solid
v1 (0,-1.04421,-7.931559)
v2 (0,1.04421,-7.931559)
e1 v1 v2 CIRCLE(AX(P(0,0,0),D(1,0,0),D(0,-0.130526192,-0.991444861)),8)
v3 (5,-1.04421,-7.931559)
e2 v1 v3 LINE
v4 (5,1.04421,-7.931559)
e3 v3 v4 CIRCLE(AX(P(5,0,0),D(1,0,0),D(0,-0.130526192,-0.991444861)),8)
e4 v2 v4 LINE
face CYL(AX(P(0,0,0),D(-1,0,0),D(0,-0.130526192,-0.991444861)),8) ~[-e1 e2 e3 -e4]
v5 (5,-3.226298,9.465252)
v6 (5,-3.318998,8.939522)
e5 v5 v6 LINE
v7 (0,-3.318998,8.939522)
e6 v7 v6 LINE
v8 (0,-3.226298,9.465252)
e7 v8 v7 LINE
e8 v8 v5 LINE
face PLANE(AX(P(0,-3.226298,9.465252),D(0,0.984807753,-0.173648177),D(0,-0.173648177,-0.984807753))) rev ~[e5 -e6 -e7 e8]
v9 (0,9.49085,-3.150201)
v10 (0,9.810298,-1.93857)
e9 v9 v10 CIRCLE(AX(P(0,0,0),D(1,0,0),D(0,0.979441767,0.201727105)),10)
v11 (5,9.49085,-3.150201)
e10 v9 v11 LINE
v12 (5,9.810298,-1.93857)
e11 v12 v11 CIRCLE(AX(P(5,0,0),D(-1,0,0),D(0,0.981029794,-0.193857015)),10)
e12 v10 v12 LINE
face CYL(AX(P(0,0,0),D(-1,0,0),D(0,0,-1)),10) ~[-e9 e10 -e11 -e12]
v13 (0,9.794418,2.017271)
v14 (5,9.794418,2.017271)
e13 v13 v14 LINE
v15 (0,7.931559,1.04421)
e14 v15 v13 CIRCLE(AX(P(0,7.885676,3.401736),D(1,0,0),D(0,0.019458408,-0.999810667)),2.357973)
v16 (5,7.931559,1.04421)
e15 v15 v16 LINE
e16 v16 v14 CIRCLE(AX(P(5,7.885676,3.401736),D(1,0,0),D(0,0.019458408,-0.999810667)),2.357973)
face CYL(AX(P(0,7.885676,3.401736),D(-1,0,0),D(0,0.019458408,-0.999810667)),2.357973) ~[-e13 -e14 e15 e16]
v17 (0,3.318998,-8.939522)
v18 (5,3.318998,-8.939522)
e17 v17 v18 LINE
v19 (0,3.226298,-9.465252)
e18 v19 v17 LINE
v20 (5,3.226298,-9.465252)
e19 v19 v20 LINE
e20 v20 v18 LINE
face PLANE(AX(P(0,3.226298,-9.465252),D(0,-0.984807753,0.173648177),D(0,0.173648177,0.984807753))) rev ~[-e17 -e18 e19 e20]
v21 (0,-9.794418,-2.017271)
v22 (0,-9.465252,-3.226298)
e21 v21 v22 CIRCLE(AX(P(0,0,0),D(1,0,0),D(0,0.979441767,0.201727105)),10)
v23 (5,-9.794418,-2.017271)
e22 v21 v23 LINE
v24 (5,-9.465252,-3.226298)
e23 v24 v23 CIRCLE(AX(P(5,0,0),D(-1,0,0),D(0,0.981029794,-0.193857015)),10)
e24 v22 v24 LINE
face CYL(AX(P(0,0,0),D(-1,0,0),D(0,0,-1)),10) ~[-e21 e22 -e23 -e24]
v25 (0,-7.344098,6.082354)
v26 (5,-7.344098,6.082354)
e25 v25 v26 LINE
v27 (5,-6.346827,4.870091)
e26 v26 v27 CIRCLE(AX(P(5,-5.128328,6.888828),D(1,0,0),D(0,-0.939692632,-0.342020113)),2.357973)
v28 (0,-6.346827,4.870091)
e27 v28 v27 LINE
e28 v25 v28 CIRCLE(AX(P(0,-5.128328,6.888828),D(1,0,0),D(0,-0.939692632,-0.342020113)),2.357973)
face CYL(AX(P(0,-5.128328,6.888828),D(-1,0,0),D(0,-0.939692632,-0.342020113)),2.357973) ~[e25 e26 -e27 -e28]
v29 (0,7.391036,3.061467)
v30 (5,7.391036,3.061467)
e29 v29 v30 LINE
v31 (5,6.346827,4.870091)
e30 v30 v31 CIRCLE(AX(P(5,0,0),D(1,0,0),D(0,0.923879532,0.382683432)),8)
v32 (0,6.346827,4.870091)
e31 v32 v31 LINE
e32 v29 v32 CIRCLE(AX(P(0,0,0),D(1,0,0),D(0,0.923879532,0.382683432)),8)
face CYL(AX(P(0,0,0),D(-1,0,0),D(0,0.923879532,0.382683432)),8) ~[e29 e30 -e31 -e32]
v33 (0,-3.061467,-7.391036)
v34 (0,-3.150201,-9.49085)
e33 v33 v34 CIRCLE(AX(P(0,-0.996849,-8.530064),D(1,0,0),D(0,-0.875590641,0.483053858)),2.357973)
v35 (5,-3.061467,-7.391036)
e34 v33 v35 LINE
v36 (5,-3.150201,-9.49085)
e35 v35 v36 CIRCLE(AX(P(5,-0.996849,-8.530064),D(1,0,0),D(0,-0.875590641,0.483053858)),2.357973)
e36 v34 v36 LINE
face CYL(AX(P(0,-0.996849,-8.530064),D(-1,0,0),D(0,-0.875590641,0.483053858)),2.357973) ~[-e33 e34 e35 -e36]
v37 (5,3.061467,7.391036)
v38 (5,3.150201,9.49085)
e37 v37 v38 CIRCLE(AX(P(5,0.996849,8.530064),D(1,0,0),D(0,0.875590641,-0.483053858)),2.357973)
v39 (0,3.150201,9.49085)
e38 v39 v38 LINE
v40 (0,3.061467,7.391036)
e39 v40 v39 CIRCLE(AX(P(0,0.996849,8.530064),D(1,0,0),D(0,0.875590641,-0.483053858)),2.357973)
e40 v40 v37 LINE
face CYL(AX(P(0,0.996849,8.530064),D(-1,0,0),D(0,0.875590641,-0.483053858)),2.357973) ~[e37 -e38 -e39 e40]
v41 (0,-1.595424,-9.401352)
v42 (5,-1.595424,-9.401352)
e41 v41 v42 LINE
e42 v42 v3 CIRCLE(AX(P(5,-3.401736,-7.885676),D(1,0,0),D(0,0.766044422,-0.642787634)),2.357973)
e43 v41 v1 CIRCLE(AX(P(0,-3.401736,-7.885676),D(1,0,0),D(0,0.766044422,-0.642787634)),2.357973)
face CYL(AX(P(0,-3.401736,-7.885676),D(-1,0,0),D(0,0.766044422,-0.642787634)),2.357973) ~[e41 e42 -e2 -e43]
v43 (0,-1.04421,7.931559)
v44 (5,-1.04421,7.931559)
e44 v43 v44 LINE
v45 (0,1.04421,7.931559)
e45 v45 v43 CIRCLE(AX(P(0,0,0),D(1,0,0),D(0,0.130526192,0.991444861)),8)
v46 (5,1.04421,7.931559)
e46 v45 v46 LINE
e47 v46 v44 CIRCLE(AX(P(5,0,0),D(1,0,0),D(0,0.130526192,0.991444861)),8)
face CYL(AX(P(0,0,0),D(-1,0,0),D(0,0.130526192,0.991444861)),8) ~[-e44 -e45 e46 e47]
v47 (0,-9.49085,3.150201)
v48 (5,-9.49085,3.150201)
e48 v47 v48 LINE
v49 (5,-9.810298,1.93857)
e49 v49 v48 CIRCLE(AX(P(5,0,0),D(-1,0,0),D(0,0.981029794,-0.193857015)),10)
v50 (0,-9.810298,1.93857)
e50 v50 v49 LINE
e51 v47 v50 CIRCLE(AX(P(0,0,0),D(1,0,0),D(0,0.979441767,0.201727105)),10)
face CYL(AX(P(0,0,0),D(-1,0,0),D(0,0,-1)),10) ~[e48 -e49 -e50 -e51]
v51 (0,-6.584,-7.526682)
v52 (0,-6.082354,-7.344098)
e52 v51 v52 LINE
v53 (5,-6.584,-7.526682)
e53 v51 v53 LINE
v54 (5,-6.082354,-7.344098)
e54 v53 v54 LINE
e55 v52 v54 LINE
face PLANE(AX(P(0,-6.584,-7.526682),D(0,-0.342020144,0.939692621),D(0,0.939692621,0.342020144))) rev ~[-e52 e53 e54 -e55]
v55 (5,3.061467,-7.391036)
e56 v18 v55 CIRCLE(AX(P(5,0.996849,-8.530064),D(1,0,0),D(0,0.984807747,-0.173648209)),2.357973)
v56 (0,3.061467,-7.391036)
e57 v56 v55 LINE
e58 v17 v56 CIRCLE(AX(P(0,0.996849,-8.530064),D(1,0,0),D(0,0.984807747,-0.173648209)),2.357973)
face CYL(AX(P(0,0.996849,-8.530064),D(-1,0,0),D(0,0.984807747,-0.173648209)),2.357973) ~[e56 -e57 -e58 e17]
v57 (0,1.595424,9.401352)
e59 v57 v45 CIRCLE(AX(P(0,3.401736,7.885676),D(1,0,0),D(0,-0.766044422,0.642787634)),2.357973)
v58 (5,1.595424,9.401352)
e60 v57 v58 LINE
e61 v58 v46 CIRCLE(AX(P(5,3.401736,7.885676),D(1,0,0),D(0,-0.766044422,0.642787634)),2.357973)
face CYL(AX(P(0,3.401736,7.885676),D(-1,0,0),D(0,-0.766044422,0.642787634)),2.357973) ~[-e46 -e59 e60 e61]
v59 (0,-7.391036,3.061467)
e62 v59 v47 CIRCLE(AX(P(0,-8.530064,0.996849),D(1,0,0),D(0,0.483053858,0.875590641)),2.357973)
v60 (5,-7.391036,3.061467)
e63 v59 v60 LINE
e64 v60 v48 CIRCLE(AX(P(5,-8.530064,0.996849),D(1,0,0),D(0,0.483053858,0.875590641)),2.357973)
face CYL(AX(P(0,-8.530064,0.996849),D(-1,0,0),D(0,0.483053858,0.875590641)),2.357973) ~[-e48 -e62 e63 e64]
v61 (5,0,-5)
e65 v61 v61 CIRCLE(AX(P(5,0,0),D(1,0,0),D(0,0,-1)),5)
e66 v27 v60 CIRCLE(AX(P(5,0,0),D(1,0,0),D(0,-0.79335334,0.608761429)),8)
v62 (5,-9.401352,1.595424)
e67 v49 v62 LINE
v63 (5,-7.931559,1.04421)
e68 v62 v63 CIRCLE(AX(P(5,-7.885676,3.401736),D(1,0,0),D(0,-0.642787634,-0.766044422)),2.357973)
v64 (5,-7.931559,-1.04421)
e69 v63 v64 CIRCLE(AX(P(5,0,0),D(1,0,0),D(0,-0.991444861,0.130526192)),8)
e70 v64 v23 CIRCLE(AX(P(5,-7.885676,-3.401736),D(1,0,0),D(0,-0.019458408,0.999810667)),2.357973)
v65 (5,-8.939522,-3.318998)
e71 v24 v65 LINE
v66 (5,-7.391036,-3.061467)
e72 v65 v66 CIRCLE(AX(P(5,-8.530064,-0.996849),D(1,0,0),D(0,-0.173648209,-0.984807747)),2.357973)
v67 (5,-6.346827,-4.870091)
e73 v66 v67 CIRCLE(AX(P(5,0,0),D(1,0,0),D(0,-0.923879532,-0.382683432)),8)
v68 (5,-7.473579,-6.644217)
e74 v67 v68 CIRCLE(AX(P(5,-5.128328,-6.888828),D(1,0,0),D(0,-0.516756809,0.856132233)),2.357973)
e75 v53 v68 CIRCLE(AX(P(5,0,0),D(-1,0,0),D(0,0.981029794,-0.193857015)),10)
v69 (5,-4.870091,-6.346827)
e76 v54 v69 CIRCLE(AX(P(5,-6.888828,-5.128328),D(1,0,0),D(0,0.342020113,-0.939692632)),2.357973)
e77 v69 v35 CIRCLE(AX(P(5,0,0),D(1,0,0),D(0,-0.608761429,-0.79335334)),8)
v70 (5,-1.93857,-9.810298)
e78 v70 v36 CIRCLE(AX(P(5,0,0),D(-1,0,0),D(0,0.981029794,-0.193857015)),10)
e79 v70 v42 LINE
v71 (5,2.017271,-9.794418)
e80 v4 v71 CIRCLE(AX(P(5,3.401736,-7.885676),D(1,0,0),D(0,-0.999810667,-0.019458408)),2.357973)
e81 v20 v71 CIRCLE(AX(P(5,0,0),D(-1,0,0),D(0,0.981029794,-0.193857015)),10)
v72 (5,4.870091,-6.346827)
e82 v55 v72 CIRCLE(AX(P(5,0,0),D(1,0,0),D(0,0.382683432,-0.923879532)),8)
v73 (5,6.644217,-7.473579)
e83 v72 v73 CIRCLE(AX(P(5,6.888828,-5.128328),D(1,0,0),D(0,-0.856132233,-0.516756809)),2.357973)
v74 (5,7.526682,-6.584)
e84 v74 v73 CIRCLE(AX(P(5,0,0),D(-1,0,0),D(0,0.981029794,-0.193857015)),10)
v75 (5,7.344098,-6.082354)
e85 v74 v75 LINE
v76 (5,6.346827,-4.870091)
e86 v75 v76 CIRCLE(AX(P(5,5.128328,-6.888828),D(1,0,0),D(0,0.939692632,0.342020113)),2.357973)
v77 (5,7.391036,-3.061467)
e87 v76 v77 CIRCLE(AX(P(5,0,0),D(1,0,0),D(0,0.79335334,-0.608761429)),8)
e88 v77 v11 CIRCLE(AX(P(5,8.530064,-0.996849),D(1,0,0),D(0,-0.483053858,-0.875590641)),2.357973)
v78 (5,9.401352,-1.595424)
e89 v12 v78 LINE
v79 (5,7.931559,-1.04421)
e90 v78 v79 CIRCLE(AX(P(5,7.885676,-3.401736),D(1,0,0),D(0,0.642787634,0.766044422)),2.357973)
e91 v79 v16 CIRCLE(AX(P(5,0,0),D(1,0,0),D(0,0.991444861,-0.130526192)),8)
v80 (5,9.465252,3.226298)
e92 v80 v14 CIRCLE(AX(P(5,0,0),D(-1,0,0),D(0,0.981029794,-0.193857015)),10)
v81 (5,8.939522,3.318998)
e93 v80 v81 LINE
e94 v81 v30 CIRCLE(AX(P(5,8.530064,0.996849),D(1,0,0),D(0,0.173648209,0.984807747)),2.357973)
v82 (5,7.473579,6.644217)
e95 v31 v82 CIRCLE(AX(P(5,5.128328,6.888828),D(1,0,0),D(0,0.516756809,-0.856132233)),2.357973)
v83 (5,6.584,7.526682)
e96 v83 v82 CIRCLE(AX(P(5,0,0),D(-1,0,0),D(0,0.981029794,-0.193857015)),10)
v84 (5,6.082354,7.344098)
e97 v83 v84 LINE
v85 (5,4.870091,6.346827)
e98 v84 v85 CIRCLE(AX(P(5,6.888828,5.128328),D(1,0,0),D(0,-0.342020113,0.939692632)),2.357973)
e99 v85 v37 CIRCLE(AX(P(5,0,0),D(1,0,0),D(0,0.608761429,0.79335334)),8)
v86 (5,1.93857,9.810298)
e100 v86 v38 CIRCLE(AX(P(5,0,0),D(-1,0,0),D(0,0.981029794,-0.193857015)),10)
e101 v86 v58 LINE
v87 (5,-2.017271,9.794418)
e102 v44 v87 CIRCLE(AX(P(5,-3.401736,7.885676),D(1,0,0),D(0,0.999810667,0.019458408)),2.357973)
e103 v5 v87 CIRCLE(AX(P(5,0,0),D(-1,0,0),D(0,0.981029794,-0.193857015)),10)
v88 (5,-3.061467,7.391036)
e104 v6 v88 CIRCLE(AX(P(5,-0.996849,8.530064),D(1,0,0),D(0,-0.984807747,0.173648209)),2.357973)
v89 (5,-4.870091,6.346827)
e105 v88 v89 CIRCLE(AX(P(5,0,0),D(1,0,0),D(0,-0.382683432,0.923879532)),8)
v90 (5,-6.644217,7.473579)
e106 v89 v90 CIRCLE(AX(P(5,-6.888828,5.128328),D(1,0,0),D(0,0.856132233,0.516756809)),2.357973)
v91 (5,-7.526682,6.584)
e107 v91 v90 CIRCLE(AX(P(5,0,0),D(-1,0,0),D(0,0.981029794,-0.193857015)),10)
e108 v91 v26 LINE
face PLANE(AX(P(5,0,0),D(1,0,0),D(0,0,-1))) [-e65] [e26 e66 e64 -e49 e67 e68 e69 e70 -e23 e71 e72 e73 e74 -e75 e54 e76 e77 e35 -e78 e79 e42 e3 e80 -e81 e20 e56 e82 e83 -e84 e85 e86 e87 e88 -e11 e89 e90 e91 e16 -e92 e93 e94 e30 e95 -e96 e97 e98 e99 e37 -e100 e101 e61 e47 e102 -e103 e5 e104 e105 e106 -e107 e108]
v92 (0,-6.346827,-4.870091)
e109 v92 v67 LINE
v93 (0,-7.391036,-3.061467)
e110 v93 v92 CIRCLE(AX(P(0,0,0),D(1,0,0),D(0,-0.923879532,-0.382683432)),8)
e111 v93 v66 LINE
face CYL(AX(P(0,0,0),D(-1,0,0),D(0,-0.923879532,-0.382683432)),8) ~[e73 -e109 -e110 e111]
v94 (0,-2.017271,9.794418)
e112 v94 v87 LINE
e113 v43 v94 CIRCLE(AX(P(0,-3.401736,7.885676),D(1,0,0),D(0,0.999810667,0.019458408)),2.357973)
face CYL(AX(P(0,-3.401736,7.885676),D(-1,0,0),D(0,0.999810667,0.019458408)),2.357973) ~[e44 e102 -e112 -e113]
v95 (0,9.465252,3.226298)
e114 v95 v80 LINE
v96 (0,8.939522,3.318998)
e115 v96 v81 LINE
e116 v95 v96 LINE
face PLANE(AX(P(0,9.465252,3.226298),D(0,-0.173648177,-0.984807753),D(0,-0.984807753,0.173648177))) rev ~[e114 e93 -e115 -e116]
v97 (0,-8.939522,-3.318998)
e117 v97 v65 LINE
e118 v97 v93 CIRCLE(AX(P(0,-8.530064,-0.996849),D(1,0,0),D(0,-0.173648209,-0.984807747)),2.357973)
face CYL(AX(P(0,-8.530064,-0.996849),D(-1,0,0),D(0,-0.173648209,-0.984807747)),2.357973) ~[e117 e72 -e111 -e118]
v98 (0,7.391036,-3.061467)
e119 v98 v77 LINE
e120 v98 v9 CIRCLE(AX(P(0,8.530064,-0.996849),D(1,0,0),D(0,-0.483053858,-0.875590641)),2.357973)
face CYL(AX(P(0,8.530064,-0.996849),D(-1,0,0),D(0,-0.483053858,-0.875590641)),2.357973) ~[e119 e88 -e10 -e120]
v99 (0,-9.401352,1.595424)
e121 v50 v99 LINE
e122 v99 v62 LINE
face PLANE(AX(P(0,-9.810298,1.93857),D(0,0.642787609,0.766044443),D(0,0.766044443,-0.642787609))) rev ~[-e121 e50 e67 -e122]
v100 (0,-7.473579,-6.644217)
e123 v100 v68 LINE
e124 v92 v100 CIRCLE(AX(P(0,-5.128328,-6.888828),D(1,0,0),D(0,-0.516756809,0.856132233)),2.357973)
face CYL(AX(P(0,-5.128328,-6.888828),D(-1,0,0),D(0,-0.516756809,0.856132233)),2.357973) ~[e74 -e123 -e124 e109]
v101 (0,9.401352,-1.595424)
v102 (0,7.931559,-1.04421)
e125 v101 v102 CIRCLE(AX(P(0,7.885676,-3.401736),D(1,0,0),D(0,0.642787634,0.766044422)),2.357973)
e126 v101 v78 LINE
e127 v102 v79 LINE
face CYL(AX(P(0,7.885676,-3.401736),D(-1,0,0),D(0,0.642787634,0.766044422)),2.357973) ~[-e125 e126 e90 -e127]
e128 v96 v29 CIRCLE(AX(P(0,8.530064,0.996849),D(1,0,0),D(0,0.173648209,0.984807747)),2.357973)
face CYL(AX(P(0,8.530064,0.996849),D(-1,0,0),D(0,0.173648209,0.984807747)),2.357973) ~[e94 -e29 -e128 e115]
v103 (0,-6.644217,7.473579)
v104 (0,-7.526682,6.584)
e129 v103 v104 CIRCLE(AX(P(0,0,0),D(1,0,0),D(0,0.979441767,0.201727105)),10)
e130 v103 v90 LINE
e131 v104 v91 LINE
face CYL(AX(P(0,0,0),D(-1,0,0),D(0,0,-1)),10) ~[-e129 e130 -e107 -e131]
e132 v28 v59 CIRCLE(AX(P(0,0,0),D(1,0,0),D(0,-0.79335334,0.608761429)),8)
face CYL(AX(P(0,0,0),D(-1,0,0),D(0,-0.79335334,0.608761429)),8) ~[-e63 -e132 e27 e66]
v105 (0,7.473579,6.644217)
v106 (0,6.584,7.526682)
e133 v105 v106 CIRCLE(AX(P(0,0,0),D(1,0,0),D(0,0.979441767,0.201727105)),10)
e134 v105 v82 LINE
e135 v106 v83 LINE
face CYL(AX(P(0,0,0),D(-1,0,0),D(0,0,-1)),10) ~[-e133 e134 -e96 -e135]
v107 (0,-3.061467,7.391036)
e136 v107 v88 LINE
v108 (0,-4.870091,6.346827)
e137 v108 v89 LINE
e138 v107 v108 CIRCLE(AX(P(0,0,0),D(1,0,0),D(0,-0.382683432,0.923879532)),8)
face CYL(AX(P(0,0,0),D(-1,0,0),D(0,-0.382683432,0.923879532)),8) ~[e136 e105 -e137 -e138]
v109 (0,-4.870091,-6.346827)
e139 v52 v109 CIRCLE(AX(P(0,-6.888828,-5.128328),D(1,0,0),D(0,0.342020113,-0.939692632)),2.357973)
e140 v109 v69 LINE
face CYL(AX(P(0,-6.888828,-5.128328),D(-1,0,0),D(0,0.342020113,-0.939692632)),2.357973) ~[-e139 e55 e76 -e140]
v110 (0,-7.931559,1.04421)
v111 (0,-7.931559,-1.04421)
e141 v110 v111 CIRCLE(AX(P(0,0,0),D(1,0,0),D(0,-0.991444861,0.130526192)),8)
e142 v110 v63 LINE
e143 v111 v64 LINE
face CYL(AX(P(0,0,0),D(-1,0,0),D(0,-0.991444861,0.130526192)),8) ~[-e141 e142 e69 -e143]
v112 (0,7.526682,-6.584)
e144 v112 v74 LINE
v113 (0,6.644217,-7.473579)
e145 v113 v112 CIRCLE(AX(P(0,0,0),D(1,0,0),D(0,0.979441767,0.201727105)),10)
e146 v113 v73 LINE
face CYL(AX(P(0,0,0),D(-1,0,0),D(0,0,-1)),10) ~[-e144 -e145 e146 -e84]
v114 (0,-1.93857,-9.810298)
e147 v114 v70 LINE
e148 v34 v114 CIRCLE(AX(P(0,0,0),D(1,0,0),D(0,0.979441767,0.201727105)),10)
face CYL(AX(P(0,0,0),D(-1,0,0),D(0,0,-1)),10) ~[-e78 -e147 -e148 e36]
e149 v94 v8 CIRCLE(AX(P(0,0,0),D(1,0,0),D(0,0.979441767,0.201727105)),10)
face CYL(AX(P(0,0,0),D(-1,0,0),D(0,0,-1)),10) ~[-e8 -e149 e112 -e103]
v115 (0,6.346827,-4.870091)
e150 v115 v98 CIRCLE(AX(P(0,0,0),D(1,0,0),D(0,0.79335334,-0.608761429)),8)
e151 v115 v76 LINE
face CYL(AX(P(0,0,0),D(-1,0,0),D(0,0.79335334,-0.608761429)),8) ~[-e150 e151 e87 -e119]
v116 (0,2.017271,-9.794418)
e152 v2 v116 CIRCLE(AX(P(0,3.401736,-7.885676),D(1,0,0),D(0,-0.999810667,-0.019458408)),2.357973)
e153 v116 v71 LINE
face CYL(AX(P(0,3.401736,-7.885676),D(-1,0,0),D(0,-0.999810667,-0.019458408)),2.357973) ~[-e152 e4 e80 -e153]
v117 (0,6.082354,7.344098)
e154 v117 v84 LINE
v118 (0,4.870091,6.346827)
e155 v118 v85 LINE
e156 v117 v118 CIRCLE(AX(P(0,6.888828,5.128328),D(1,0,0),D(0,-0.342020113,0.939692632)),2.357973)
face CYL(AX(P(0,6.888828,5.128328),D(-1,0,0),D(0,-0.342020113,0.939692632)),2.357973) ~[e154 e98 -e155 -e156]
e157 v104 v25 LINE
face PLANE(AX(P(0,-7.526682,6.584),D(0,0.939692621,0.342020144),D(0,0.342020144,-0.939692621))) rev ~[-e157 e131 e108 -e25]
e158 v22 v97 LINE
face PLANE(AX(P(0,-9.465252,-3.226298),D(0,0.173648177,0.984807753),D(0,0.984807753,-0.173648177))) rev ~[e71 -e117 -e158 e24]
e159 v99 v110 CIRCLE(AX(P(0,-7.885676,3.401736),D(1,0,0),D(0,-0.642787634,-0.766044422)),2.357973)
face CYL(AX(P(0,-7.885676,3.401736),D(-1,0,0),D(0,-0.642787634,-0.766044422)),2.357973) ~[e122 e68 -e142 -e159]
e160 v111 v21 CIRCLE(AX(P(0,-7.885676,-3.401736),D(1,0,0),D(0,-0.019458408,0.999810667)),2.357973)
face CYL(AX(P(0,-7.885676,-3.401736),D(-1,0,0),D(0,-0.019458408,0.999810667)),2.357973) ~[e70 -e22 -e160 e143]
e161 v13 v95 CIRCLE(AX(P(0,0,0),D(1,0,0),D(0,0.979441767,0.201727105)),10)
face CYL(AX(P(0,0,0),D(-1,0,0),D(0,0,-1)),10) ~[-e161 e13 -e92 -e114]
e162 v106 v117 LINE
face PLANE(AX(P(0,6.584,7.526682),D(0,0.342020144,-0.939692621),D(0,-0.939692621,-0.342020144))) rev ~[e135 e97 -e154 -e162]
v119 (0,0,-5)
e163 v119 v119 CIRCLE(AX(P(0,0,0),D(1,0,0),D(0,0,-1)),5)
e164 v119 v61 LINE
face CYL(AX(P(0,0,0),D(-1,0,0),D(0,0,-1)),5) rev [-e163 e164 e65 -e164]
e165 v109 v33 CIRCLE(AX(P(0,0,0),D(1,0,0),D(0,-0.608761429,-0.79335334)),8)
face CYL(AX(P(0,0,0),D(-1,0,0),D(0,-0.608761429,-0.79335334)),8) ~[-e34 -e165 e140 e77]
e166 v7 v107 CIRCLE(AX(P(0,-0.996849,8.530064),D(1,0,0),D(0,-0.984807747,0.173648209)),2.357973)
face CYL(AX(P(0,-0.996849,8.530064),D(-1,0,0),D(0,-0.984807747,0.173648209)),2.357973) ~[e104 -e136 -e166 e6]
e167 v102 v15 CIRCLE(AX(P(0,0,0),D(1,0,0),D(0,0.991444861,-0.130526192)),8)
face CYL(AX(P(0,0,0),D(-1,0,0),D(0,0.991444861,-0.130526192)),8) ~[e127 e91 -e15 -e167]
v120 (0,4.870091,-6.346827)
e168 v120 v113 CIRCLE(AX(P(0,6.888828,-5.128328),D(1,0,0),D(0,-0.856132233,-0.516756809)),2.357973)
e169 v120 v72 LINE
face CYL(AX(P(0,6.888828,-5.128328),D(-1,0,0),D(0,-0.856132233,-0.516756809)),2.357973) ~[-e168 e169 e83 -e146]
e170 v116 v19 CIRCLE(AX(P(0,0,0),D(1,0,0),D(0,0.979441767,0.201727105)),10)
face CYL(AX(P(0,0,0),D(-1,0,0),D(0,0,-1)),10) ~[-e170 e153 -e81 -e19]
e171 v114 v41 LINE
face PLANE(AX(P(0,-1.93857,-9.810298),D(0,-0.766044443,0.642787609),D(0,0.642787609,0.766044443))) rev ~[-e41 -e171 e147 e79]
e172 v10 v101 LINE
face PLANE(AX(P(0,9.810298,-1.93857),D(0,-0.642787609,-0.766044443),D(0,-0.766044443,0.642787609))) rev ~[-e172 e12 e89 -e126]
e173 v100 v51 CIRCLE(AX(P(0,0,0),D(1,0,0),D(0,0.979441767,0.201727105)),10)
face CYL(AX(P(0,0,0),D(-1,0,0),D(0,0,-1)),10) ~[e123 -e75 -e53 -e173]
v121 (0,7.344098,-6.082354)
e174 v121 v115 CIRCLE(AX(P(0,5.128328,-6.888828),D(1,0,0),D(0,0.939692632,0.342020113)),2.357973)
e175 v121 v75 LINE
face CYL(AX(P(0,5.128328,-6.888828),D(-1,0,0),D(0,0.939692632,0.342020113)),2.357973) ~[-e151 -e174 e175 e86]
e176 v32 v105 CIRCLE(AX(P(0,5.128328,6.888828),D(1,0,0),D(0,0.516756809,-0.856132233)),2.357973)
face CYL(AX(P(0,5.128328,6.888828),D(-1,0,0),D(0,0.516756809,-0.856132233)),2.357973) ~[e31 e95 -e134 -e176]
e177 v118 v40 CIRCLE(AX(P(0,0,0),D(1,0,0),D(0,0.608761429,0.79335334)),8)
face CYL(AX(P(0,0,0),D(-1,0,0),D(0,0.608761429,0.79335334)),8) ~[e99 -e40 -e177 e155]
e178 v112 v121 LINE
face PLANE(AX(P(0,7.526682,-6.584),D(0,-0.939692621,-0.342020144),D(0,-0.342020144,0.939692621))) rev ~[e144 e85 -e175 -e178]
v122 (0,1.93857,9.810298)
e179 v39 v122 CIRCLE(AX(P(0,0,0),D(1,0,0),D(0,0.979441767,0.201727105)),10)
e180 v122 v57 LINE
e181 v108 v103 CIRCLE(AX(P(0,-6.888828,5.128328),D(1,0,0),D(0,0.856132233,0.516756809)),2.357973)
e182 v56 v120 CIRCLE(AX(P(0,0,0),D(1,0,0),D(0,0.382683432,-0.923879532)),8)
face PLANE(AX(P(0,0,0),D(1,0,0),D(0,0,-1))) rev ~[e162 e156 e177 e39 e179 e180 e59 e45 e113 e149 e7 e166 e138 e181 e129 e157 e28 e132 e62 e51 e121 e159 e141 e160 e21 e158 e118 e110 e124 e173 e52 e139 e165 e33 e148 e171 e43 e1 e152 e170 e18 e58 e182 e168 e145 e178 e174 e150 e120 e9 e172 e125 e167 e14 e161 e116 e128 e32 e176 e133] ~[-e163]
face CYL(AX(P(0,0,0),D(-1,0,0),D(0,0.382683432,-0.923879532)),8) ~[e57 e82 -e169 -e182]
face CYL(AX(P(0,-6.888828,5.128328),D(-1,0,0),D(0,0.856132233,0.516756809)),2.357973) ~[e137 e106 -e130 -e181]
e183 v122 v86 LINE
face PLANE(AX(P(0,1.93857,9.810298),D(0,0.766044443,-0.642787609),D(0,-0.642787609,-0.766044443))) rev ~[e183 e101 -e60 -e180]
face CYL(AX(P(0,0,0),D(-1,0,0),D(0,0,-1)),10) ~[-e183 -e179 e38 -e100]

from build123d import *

# Parameters (mm, degrees)
SKETCH3_R           = 10
BOSS_EXTRUDE1_DEPTH = 5
CUT_EXTRUDE1_DEPTH  = 5
CIRPATTERN1_COUNT   = 12
SKETCH3_3_R         = 5
CUT_EXTRUDE3_DEPTH  = 5


with BuildPart() as part:
    # Sketch3 → Boss-Extrude1 (new body)
    with BuildSketch(Plane(origin=(0, 0, 0), x_dir=(0, 0, -1), z_dir=(1, 0, 0))):
        Circle(SKETCH3_R)
    extrude(amount=BOSS_EXTRUDE1_DEPTH)

    # Gear_Profile → Cut-Extrude1 (cut)
    with BuildSketch(Plane.ZY):
        with BuildLine():
            ThreePointArc((-1.595423995, 9.401352278), (-1.193917878, 8.71367126), (-1.044209538, 7.931558891))
            ThreePointArc((-1.044209538, 7.931558891), (0, 8), (1.044209538, 7.931558891))
            ThreePointArc((1.044209538, 7.931558891), (1.311715504, 8.977395553), (2.017271047, 9.794417671))
            ThreePointArc((2.017271047, 9.794417671), (0.040143535, 9.999919425), (-1.938570153, 9.810297945))
            Line((-1.938570153, 9.810297945), (-1.595423995, 9.401352278))
        make_face()
    cut_extrude1 = extrude(amount=-CUT_EXTRUDE1_DEPTH, mode=Mode.SUBTRACT)

    # CirPattern1: Cut-Extrude1 ×12 about axis
    cirpattern1_axis = Axis((5, 0, 0), (-1, 0, 0))
    for i in range(1, CIRPATTERN1_COUNT):
        add(cut_extrude1.rotate(cirpattern1_axis, i * 360 / CIRPATTERN1_COUNT), mode=Mode.SUBTRACT)

    # Sketch3<3> → Cut-Extrude3 (cut)
    with BuildSketch(Plane(origin=(0, 0, 0), x_dir=(0, 0, -1), z_dir=(1, 0, 0))):
        Circle(SKETCH3_3_R)
    extrude(amount=CUT_EXTRUDE3_DEPTH, mode=Mode.SUBTRACT)


solid = part.part
